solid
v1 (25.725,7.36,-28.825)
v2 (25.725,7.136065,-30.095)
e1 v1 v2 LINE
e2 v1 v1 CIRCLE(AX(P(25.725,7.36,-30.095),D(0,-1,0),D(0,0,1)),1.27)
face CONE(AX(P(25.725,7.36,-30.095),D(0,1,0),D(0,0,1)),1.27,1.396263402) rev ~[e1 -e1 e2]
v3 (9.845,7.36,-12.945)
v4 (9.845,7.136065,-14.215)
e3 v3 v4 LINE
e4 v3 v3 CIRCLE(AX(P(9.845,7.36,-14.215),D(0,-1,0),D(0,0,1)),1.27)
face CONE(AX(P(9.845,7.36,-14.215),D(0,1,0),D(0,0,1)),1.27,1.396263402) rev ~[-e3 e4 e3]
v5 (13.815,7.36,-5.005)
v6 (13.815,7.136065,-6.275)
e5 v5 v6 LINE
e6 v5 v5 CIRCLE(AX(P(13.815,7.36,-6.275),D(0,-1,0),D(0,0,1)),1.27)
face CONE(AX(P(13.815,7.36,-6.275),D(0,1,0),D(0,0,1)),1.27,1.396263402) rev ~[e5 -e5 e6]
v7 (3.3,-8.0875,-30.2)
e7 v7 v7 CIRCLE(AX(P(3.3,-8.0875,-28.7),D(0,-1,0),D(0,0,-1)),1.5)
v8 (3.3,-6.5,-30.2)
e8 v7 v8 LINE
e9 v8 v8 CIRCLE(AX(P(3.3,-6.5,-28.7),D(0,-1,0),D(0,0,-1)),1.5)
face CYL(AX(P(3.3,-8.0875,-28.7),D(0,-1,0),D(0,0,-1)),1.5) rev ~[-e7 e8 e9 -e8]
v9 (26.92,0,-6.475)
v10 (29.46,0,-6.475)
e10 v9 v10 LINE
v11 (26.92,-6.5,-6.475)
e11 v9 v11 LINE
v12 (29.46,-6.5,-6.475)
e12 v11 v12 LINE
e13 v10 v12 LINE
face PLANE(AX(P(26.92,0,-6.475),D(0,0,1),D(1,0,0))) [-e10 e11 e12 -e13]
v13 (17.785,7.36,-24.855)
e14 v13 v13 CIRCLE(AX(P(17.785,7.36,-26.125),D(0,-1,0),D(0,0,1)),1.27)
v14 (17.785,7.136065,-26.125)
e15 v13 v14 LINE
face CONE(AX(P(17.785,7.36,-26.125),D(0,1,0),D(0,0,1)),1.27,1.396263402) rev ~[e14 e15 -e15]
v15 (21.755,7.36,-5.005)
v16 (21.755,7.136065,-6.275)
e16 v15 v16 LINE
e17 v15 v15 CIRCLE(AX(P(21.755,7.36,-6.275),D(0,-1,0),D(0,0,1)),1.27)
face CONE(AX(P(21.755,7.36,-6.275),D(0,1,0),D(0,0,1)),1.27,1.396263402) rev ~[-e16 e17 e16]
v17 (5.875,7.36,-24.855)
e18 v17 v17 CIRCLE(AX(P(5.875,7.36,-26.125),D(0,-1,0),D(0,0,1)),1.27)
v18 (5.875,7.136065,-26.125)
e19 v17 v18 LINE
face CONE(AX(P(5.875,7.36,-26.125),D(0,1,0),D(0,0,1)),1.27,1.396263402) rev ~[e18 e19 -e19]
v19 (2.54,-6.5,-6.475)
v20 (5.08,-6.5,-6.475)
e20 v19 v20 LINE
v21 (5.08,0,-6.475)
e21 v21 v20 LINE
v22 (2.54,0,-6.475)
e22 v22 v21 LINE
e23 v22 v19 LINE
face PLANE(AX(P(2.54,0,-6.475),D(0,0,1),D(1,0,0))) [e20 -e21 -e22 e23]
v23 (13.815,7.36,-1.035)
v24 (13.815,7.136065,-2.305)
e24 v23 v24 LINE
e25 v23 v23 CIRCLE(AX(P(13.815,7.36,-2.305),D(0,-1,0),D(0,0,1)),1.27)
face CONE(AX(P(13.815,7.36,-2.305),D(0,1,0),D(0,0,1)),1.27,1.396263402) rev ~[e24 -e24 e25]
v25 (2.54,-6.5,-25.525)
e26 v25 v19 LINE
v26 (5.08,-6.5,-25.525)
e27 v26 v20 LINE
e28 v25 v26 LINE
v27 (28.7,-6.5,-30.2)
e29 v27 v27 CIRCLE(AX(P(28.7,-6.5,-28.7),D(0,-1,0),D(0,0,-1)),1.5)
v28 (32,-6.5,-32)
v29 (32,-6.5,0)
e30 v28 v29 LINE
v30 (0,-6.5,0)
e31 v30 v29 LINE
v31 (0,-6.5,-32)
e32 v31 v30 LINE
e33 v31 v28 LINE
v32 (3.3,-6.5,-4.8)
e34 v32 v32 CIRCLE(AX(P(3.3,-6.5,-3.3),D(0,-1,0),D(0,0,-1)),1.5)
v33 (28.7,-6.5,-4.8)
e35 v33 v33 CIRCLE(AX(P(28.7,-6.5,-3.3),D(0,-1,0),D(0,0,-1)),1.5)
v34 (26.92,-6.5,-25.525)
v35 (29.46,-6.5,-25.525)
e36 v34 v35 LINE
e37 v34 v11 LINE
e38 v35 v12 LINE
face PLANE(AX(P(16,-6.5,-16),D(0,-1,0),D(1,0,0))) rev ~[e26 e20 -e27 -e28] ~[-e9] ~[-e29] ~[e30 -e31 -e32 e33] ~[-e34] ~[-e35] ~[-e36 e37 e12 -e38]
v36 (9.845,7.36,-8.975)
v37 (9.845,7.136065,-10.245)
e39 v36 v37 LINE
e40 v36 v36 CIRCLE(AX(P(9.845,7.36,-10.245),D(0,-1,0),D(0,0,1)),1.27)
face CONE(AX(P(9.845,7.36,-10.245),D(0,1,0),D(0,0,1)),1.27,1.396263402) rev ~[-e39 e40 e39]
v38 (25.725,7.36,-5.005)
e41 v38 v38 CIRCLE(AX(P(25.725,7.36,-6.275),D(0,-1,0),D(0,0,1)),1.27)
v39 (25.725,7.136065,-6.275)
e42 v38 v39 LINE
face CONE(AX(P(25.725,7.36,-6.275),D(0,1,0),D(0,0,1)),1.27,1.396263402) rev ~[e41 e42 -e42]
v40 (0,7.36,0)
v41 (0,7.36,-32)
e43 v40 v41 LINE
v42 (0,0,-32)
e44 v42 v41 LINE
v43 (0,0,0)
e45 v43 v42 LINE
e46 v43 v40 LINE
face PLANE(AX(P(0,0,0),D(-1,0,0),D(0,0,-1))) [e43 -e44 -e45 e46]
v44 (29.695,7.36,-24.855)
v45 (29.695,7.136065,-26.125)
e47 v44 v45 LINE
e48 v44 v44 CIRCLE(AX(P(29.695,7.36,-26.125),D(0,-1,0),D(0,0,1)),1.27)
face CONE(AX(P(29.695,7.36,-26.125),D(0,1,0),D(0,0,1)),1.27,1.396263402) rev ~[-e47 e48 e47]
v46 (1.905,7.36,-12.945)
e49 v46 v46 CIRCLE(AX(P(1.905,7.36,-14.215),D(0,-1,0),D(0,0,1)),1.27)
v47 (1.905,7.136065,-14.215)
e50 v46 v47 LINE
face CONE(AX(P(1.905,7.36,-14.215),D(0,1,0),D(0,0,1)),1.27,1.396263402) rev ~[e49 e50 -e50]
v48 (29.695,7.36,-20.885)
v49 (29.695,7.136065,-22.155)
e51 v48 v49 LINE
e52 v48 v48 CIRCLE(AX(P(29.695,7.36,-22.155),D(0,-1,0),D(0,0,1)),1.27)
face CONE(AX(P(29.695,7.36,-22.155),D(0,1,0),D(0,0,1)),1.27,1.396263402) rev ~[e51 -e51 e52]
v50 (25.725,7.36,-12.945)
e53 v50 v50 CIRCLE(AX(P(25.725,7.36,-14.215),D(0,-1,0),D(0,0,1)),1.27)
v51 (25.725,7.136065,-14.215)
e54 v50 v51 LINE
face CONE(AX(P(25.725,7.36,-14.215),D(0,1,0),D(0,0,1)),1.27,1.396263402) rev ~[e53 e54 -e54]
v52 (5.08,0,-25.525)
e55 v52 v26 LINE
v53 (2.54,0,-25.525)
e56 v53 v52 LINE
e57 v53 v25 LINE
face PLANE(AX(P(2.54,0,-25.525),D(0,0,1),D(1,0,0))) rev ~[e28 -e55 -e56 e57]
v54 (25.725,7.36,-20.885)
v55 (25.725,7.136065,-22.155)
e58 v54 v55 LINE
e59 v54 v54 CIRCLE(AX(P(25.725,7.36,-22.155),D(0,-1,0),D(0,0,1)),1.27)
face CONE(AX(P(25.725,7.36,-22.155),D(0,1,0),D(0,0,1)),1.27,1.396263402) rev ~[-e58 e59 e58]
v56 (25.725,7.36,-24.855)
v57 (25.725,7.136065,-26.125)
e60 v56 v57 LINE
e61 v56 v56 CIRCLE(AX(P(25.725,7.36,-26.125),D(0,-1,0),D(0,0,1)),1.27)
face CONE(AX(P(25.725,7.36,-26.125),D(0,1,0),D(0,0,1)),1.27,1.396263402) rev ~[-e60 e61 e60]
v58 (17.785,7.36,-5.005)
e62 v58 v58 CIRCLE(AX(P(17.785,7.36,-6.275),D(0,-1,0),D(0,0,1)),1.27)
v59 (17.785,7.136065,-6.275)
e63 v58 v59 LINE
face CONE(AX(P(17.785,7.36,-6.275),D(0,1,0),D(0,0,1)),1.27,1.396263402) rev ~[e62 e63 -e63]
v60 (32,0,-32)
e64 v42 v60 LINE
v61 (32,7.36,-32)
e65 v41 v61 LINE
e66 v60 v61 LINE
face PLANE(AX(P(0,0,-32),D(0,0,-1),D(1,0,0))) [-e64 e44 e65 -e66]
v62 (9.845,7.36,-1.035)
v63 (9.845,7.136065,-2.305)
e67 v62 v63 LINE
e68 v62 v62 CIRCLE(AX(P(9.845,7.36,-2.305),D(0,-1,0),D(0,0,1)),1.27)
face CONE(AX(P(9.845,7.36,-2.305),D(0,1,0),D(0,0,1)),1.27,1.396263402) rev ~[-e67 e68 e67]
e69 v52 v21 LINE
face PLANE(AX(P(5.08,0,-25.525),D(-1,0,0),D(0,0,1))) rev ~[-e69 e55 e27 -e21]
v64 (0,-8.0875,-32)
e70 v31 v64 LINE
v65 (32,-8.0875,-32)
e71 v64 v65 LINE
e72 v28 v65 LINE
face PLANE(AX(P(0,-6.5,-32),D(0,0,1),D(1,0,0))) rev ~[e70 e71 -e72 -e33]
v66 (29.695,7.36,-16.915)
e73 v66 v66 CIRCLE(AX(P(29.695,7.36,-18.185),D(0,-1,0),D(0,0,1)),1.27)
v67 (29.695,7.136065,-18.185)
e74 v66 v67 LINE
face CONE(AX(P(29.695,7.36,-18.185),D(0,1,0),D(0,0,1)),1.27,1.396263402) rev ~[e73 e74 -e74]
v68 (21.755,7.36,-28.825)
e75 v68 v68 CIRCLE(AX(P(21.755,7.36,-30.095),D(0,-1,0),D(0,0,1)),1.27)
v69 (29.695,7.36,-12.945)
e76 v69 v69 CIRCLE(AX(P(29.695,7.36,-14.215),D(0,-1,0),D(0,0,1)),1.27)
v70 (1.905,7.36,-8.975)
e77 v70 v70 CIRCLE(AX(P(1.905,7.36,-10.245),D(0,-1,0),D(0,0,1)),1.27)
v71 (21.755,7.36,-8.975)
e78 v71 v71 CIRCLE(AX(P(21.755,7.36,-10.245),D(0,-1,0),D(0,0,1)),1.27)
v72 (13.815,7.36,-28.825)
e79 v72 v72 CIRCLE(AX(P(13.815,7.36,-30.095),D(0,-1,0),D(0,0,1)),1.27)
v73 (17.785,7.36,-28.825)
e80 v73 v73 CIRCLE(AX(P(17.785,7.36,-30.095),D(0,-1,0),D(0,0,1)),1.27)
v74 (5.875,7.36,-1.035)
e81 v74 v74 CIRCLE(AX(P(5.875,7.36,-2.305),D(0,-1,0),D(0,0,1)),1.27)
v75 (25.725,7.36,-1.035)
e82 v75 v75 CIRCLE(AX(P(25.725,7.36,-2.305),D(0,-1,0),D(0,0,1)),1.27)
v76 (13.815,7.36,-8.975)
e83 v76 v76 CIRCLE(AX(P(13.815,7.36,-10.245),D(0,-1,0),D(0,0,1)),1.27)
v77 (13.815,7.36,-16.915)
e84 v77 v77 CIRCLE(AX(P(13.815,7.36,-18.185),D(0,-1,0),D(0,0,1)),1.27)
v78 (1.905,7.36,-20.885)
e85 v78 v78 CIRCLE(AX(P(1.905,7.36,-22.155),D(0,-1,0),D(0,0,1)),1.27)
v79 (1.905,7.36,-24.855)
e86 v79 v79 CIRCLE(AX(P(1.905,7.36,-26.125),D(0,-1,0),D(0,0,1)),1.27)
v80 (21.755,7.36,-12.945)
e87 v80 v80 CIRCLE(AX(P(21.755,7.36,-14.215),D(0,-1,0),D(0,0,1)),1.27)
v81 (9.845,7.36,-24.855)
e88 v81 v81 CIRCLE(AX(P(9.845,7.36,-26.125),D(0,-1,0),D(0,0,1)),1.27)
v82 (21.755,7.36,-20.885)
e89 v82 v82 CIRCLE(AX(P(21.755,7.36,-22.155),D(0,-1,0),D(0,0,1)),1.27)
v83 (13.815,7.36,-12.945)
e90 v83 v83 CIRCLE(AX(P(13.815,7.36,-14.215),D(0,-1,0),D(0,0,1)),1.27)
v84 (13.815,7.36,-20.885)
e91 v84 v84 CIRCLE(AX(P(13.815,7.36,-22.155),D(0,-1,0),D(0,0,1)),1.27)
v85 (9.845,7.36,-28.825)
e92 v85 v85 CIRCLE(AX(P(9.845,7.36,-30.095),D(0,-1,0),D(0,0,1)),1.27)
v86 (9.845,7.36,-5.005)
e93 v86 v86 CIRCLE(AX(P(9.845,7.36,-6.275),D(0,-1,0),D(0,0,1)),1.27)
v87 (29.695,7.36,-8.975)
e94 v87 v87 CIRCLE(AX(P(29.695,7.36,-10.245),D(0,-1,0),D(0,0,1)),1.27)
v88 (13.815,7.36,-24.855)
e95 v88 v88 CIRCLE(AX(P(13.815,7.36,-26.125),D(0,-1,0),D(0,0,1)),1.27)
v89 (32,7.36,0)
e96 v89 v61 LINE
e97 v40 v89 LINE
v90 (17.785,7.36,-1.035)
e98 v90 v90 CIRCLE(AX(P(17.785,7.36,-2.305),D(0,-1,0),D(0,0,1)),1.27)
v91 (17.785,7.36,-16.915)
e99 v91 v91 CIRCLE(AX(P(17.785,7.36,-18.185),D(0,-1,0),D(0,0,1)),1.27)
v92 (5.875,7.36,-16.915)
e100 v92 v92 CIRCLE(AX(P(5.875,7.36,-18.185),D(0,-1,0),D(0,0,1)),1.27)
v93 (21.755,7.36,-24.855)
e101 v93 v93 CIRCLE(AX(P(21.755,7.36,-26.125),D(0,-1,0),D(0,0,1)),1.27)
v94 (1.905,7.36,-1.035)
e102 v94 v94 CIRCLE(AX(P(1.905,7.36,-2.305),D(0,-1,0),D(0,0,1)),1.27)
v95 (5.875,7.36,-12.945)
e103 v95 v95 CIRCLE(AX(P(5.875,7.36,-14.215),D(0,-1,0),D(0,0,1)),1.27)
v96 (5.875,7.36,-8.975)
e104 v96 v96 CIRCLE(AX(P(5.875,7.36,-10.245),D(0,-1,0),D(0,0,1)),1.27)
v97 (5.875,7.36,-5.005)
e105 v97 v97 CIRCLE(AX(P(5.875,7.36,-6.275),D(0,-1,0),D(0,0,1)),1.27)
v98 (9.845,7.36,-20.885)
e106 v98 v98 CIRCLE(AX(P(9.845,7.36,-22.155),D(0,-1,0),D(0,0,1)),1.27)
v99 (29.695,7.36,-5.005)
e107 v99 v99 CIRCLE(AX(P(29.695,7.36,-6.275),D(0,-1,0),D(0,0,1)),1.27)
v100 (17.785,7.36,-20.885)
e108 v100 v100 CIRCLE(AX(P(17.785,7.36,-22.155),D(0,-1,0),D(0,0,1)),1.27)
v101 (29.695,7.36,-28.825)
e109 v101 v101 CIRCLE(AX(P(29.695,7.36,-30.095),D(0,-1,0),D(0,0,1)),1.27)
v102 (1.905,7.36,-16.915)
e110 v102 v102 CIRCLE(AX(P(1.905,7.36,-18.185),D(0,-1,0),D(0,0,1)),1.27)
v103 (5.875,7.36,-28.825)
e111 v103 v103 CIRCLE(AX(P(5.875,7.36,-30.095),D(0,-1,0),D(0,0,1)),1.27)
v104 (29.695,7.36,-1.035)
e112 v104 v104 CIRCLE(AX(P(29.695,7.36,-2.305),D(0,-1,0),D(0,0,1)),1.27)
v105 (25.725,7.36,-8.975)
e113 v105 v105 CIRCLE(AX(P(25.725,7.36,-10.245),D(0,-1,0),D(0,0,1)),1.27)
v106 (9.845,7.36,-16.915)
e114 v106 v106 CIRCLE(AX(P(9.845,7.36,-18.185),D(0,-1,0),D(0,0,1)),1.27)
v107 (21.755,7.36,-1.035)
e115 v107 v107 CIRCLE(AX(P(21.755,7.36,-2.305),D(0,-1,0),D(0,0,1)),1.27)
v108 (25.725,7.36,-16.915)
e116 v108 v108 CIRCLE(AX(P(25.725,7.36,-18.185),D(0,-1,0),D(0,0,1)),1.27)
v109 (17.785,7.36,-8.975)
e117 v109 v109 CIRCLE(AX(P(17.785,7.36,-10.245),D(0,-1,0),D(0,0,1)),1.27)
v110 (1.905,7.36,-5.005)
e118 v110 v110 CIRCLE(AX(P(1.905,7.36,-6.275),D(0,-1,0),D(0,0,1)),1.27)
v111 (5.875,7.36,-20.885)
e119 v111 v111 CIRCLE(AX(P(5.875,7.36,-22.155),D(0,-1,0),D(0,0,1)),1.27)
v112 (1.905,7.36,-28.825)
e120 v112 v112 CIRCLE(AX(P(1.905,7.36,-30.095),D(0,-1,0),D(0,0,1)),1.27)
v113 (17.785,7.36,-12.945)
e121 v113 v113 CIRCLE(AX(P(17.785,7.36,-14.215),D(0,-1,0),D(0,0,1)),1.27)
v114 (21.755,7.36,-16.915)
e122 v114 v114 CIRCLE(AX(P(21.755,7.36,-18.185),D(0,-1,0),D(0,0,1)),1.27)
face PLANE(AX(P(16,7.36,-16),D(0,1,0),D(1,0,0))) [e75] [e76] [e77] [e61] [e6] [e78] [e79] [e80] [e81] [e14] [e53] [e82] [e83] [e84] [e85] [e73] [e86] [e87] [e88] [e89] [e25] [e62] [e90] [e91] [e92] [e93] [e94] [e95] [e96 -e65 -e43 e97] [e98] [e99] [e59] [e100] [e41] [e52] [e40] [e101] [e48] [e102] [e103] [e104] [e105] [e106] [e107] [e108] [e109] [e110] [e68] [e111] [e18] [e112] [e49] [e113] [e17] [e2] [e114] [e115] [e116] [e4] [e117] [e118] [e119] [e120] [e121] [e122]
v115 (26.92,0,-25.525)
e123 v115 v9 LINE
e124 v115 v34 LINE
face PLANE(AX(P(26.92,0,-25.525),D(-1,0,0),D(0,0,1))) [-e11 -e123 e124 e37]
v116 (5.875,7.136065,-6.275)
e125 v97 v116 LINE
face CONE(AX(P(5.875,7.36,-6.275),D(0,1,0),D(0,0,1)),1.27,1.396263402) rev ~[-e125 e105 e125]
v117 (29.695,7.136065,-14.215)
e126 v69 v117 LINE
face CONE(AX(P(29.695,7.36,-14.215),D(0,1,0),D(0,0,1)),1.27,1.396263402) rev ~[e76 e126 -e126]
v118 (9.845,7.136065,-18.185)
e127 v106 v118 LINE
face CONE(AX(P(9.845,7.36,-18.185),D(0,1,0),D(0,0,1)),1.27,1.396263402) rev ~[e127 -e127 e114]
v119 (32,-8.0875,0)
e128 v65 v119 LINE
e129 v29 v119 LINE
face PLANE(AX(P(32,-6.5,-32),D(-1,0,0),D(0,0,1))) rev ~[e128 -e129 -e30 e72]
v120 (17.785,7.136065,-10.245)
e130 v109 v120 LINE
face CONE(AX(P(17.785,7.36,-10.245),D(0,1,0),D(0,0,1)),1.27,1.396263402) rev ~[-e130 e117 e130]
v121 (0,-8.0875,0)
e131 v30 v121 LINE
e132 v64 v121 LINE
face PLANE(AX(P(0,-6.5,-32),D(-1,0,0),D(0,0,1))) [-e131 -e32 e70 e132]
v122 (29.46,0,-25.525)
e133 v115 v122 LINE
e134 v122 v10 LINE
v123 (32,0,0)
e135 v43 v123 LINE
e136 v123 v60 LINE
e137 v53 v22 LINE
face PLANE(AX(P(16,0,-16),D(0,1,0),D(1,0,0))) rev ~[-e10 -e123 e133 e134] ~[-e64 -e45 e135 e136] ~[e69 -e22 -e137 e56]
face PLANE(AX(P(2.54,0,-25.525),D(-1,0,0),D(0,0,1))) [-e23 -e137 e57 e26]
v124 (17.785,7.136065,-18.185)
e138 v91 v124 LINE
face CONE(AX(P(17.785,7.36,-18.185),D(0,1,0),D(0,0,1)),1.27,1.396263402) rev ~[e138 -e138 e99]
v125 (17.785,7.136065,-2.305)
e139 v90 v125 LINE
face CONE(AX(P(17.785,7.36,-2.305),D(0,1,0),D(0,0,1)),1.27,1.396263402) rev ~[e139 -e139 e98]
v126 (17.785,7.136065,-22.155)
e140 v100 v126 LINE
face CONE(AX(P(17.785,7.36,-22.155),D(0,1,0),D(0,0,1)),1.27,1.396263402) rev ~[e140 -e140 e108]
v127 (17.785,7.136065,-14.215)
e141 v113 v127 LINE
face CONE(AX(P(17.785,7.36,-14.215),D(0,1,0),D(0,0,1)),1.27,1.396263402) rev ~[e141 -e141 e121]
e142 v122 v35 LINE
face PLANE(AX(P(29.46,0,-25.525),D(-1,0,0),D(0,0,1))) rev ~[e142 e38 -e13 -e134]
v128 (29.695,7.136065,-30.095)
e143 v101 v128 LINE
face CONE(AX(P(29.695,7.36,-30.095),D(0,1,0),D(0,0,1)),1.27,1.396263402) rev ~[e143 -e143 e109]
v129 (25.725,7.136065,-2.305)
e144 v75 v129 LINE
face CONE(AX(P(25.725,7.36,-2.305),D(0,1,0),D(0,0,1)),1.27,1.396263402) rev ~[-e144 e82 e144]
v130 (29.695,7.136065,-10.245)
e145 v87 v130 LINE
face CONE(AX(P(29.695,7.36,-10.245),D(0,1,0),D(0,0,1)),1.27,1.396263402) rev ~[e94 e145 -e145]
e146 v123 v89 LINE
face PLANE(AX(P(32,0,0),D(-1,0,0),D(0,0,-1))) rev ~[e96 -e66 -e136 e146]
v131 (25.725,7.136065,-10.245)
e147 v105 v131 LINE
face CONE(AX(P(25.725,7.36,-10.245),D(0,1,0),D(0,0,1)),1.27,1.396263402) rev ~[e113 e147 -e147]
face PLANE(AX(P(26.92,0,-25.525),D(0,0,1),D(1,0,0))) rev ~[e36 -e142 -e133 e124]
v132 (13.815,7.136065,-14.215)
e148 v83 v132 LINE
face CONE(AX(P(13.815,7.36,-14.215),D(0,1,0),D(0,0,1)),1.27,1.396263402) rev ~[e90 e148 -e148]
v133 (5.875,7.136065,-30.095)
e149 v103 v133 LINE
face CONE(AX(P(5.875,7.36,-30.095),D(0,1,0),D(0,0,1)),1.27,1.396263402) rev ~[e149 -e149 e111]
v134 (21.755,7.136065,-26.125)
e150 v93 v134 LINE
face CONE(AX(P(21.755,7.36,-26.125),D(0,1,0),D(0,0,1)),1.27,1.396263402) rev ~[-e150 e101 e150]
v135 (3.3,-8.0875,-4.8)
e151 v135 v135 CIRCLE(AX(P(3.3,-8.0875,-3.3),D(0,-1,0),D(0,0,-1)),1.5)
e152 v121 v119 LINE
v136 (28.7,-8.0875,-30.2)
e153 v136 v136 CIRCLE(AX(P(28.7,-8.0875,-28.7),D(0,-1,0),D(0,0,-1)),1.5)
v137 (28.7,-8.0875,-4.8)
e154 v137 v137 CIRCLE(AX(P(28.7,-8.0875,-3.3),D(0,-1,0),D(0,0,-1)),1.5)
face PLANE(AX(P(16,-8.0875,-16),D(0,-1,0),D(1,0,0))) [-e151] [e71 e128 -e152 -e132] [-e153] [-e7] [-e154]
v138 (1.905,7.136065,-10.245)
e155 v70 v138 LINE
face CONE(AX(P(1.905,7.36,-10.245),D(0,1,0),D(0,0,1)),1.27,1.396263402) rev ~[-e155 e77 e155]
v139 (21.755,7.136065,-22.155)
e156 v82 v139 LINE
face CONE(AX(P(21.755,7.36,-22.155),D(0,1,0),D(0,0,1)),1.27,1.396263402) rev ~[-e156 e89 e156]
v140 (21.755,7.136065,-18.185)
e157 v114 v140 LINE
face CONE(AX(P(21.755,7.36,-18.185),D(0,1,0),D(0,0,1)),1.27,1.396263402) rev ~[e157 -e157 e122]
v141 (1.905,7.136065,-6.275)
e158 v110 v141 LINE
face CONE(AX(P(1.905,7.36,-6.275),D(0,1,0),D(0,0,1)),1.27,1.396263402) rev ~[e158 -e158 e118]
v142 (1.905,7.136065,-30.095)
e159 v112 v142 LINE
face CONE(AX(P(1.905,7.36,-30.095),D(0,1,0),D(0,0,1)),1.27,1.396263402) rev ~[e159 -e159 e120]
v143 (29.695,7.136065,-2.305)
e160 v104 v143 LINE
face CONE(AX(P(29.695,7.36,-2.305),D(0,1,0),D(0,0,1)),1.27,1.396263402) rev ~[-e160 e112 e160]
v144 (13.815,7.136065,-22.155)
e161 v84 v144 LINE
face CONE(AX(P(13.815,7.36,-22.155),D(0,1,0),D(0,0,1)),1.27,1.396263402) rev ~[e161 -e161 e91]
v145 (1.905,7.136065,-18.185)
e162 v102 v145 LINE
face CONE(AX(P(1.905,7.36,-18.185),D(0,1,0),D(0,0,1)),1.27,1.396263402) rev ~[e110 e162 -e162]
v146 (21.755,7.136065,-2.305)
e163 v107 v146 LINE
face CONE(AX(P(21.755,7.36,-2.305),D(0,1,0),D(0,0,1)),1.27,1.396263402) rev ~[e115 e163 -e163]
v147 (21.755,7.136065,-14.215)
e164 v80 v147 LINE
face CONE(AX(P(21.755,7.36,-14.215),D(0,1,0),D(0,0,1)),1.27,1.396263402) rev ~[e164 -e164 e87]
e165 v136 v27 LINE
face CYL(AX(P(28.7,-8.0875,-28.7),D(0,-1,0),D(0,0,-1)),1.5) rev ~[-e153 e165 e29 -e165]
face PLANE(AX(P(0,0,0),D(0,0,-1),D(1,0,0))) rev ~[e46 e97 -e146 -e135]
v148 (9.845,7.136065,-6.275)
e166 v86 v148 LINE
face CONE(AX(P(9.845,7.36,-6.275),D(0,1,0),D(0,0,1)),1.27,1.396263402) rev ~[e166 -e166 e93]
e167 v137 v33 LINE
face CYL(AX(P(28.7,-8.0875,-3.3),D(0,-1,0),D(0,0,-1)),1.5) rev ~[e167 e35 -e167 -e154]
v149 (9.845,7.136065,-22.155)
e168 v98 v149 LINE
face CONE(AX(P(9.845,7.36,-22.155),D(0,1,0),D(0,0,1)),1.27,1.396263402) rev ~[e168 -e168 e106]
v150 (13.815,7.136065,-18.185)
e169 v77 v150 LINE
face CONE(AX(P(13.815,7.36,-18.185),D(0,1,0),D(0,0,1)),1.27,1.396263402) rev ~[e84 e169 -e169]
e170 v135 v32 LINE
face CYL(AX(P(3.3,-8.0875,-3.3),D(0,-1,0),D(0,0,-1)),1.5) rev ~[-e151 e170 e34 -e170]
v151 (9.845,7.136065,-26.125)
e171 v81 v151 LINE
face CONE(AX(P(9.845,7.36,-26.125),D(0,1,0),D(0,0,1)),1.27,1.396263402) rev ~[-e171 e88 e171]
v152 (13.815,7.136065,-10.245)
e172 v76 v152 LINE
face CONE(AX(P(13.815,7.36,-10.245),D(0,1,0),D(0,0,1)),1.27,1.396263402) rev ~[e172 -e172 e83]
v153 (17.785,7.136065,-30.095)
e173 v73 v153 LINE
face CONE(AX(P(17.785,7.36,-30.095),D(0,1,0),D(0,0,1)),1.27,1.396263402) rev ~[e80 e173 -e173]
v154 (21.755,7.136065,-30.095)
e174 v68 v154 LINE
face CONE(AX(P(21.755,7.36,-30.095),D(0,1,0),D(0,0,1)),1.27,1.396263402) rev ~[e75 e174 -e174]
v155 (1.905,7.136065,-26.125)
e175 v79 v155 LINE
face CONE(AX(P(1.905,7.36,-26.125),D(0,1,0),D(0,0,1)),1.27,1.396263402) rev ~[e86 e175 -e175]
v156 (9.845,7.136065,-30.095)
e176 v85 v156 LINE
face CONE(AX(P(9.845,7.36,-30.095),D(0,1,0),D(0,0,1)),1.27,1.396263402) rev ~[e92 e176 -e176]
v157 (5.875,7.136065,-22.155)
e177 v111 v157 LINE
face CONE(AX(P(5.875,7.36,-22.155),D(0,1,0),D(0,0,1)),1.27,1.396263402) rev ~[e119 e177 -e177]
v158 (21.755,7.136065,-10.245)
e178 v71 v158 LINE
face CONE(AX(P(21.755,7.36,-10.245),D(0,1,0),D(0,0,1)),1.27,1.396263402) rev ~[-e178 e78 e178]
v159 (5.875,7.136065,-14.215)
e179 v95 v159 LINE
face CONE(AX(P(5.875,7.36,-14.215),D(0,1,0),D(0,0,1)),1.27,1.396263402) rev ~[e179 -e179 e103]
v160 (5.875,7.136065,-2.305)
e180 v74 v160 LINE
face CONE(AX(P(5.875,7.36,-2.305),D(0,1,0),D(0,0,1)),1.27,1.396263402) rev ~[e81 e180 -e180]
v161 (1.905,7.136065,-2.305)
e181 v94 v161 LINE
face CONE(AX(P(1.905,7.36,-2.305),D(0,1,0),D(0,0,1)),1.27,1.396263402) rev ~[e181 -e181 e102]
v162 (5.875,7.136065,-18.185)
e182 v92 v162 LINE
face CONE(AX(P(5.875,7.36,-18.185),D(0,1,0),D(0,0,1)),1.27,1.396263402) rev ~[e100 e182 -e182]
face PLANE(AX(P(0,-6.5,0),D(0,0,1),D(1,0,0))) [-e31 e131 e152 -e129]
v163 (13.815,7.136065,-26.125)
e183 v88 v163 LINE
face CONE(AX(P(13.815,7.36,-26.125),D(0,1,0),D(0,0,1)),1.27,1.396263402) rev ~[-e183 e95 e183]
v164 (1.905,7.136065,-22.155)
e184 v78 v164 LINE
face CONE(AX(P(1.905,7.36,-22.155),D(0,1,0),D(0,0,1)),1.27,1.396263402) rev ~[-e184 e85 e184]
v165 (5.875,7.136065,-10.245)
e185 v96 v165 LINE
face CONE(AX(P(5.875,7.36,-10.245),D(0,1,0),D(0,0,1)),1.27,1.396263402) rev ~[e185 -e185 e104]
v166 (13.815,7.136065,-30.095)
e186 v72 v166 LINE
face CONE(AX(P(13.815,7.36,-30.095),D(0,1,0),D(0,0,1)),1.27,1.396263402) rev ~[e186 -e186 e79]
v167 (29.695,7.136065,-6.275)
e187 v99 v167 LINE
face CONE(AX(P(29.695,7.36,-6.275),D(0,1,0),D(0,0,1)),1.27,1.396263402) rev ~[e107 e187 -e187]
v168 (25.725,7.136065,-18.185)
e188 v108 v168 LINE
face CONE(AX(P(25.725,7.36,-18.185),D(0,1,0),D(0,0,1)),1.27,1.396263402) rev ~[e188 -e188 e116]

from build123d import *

# Parameters (mm, degrees)
SKETCH1_W            = 32
SKETCH1_H            = 32
BOSS_EXTRUDE1_DEPTH  = 7.36
SKETCH2_W            = 2.54
SKETCH2_H            = 19.05
BOSS_EXTRUDE2_DEPTH  = 6.5
SKETCH3_W            = 32
SKETCH3_H            = 32
BOSS_EXTRUDE3_DEPTH  = 1.5875
SKETCH4_R            = 1.5
CUT_EXTRUDE1_DEPTH   = 1.5875
LPATTERN1_COUNT      = 8
LPATTERN1_PITCH      = 3.97
LPATTERN1_COUNT_DIR2 = 8
LPATTERN1_PITCH_DIR2 = 3.97


with BuildPart() as part:
    # Sketch1 → Boss-Extrude1 (new body)
    with BuildSketch(Plane(origin=(0, 0, 0), x_dir=(1, 0, 0), z_dir=(0, 1, 0))):
        with Locations((16, 16)):
            Rectangle(SKETCH1_W, SKETCH1_H)
    extrude(amount=BOSS_EXTRUDE1_DEPTH)

    # Sketch2 → Boss-Extrude2 (add)
    with BuildSketch(Plane.XZ):
        with Locations((28.19, -16)):
            Rectangle(SKETCH2_W, SKETCH2_H)
        with Locations((3.81, -16)):
            Rectangle(SKETCH2_W, SKETCH2_H)
    extrude(amount=BOSS_EXTRUDE2_DEPTH)

    # Sketch3 → Boss-Extrude3 (add)
    with BuildSketch(Plane.XZ.offset(6.5)):
        with Locations((16, -16)):
            Rectangle(SKETCH3_W, SKETCH3_H)
    extrude(amount=BOSS_EXTRUDE3_DEPTH)

    # Sketch4 → Cut-Extrude1 (cut)
    with BuildSketch(Plane.XZ.offset(8.0875)):
        with Locations(Location((3.3, -28.7, 0), (0, 0, 270))):
            Circle(SKETCH4_R)
        with Locations(Location((28.7, -28.7, 0), (0, 0, 270))):
            Circle(SKETCH4_R)
        with Locations(Location((28.7, -3.3, 0), (0, 0, 270))):
            Circle(SKETCH4_R)
        with Locations(Location((3.3, -3.3, 0), (0, 0, 270))):
            Circle(SKETCH4_R)
    extrude(amount=-CUT_EXTRUDE1_DEPTH, mode=Mode.SUBTRACT)

    # Cut-Extrude2 cone 1 section (through the dimple's axis) → Cut-Extrude2 (revolve, cut)
    with BuildSketch(Plane(origin=(1.905, 7.36, -30.095), x_dir=(0, 0, 1), z_dir=(1, 0, 0))):
        Polygon((0, 0), (1.27, 0), (0, 0.223935265), align=None)
    cut_extrude2 = revolve(axis=Axis((1.905, 7.36, -30.095), (0, -1, 0)), mode=Mode.SUBTRACT)

    # LPattern1: Cut-Extrude2 8 × 8
    with Locations(*[(i * LPATTERN1_PITCH, 0, j * LPATTERN1_PITCH_DIR2) for i in range(LPATTERN1_COUNT) for j in range(LPATTERN1_COUNT_DIR2) if (i, j) != (0, 0)]):
        add(cut_extrude2, mode=Mode.SUBTRACT)


solid = part.part
